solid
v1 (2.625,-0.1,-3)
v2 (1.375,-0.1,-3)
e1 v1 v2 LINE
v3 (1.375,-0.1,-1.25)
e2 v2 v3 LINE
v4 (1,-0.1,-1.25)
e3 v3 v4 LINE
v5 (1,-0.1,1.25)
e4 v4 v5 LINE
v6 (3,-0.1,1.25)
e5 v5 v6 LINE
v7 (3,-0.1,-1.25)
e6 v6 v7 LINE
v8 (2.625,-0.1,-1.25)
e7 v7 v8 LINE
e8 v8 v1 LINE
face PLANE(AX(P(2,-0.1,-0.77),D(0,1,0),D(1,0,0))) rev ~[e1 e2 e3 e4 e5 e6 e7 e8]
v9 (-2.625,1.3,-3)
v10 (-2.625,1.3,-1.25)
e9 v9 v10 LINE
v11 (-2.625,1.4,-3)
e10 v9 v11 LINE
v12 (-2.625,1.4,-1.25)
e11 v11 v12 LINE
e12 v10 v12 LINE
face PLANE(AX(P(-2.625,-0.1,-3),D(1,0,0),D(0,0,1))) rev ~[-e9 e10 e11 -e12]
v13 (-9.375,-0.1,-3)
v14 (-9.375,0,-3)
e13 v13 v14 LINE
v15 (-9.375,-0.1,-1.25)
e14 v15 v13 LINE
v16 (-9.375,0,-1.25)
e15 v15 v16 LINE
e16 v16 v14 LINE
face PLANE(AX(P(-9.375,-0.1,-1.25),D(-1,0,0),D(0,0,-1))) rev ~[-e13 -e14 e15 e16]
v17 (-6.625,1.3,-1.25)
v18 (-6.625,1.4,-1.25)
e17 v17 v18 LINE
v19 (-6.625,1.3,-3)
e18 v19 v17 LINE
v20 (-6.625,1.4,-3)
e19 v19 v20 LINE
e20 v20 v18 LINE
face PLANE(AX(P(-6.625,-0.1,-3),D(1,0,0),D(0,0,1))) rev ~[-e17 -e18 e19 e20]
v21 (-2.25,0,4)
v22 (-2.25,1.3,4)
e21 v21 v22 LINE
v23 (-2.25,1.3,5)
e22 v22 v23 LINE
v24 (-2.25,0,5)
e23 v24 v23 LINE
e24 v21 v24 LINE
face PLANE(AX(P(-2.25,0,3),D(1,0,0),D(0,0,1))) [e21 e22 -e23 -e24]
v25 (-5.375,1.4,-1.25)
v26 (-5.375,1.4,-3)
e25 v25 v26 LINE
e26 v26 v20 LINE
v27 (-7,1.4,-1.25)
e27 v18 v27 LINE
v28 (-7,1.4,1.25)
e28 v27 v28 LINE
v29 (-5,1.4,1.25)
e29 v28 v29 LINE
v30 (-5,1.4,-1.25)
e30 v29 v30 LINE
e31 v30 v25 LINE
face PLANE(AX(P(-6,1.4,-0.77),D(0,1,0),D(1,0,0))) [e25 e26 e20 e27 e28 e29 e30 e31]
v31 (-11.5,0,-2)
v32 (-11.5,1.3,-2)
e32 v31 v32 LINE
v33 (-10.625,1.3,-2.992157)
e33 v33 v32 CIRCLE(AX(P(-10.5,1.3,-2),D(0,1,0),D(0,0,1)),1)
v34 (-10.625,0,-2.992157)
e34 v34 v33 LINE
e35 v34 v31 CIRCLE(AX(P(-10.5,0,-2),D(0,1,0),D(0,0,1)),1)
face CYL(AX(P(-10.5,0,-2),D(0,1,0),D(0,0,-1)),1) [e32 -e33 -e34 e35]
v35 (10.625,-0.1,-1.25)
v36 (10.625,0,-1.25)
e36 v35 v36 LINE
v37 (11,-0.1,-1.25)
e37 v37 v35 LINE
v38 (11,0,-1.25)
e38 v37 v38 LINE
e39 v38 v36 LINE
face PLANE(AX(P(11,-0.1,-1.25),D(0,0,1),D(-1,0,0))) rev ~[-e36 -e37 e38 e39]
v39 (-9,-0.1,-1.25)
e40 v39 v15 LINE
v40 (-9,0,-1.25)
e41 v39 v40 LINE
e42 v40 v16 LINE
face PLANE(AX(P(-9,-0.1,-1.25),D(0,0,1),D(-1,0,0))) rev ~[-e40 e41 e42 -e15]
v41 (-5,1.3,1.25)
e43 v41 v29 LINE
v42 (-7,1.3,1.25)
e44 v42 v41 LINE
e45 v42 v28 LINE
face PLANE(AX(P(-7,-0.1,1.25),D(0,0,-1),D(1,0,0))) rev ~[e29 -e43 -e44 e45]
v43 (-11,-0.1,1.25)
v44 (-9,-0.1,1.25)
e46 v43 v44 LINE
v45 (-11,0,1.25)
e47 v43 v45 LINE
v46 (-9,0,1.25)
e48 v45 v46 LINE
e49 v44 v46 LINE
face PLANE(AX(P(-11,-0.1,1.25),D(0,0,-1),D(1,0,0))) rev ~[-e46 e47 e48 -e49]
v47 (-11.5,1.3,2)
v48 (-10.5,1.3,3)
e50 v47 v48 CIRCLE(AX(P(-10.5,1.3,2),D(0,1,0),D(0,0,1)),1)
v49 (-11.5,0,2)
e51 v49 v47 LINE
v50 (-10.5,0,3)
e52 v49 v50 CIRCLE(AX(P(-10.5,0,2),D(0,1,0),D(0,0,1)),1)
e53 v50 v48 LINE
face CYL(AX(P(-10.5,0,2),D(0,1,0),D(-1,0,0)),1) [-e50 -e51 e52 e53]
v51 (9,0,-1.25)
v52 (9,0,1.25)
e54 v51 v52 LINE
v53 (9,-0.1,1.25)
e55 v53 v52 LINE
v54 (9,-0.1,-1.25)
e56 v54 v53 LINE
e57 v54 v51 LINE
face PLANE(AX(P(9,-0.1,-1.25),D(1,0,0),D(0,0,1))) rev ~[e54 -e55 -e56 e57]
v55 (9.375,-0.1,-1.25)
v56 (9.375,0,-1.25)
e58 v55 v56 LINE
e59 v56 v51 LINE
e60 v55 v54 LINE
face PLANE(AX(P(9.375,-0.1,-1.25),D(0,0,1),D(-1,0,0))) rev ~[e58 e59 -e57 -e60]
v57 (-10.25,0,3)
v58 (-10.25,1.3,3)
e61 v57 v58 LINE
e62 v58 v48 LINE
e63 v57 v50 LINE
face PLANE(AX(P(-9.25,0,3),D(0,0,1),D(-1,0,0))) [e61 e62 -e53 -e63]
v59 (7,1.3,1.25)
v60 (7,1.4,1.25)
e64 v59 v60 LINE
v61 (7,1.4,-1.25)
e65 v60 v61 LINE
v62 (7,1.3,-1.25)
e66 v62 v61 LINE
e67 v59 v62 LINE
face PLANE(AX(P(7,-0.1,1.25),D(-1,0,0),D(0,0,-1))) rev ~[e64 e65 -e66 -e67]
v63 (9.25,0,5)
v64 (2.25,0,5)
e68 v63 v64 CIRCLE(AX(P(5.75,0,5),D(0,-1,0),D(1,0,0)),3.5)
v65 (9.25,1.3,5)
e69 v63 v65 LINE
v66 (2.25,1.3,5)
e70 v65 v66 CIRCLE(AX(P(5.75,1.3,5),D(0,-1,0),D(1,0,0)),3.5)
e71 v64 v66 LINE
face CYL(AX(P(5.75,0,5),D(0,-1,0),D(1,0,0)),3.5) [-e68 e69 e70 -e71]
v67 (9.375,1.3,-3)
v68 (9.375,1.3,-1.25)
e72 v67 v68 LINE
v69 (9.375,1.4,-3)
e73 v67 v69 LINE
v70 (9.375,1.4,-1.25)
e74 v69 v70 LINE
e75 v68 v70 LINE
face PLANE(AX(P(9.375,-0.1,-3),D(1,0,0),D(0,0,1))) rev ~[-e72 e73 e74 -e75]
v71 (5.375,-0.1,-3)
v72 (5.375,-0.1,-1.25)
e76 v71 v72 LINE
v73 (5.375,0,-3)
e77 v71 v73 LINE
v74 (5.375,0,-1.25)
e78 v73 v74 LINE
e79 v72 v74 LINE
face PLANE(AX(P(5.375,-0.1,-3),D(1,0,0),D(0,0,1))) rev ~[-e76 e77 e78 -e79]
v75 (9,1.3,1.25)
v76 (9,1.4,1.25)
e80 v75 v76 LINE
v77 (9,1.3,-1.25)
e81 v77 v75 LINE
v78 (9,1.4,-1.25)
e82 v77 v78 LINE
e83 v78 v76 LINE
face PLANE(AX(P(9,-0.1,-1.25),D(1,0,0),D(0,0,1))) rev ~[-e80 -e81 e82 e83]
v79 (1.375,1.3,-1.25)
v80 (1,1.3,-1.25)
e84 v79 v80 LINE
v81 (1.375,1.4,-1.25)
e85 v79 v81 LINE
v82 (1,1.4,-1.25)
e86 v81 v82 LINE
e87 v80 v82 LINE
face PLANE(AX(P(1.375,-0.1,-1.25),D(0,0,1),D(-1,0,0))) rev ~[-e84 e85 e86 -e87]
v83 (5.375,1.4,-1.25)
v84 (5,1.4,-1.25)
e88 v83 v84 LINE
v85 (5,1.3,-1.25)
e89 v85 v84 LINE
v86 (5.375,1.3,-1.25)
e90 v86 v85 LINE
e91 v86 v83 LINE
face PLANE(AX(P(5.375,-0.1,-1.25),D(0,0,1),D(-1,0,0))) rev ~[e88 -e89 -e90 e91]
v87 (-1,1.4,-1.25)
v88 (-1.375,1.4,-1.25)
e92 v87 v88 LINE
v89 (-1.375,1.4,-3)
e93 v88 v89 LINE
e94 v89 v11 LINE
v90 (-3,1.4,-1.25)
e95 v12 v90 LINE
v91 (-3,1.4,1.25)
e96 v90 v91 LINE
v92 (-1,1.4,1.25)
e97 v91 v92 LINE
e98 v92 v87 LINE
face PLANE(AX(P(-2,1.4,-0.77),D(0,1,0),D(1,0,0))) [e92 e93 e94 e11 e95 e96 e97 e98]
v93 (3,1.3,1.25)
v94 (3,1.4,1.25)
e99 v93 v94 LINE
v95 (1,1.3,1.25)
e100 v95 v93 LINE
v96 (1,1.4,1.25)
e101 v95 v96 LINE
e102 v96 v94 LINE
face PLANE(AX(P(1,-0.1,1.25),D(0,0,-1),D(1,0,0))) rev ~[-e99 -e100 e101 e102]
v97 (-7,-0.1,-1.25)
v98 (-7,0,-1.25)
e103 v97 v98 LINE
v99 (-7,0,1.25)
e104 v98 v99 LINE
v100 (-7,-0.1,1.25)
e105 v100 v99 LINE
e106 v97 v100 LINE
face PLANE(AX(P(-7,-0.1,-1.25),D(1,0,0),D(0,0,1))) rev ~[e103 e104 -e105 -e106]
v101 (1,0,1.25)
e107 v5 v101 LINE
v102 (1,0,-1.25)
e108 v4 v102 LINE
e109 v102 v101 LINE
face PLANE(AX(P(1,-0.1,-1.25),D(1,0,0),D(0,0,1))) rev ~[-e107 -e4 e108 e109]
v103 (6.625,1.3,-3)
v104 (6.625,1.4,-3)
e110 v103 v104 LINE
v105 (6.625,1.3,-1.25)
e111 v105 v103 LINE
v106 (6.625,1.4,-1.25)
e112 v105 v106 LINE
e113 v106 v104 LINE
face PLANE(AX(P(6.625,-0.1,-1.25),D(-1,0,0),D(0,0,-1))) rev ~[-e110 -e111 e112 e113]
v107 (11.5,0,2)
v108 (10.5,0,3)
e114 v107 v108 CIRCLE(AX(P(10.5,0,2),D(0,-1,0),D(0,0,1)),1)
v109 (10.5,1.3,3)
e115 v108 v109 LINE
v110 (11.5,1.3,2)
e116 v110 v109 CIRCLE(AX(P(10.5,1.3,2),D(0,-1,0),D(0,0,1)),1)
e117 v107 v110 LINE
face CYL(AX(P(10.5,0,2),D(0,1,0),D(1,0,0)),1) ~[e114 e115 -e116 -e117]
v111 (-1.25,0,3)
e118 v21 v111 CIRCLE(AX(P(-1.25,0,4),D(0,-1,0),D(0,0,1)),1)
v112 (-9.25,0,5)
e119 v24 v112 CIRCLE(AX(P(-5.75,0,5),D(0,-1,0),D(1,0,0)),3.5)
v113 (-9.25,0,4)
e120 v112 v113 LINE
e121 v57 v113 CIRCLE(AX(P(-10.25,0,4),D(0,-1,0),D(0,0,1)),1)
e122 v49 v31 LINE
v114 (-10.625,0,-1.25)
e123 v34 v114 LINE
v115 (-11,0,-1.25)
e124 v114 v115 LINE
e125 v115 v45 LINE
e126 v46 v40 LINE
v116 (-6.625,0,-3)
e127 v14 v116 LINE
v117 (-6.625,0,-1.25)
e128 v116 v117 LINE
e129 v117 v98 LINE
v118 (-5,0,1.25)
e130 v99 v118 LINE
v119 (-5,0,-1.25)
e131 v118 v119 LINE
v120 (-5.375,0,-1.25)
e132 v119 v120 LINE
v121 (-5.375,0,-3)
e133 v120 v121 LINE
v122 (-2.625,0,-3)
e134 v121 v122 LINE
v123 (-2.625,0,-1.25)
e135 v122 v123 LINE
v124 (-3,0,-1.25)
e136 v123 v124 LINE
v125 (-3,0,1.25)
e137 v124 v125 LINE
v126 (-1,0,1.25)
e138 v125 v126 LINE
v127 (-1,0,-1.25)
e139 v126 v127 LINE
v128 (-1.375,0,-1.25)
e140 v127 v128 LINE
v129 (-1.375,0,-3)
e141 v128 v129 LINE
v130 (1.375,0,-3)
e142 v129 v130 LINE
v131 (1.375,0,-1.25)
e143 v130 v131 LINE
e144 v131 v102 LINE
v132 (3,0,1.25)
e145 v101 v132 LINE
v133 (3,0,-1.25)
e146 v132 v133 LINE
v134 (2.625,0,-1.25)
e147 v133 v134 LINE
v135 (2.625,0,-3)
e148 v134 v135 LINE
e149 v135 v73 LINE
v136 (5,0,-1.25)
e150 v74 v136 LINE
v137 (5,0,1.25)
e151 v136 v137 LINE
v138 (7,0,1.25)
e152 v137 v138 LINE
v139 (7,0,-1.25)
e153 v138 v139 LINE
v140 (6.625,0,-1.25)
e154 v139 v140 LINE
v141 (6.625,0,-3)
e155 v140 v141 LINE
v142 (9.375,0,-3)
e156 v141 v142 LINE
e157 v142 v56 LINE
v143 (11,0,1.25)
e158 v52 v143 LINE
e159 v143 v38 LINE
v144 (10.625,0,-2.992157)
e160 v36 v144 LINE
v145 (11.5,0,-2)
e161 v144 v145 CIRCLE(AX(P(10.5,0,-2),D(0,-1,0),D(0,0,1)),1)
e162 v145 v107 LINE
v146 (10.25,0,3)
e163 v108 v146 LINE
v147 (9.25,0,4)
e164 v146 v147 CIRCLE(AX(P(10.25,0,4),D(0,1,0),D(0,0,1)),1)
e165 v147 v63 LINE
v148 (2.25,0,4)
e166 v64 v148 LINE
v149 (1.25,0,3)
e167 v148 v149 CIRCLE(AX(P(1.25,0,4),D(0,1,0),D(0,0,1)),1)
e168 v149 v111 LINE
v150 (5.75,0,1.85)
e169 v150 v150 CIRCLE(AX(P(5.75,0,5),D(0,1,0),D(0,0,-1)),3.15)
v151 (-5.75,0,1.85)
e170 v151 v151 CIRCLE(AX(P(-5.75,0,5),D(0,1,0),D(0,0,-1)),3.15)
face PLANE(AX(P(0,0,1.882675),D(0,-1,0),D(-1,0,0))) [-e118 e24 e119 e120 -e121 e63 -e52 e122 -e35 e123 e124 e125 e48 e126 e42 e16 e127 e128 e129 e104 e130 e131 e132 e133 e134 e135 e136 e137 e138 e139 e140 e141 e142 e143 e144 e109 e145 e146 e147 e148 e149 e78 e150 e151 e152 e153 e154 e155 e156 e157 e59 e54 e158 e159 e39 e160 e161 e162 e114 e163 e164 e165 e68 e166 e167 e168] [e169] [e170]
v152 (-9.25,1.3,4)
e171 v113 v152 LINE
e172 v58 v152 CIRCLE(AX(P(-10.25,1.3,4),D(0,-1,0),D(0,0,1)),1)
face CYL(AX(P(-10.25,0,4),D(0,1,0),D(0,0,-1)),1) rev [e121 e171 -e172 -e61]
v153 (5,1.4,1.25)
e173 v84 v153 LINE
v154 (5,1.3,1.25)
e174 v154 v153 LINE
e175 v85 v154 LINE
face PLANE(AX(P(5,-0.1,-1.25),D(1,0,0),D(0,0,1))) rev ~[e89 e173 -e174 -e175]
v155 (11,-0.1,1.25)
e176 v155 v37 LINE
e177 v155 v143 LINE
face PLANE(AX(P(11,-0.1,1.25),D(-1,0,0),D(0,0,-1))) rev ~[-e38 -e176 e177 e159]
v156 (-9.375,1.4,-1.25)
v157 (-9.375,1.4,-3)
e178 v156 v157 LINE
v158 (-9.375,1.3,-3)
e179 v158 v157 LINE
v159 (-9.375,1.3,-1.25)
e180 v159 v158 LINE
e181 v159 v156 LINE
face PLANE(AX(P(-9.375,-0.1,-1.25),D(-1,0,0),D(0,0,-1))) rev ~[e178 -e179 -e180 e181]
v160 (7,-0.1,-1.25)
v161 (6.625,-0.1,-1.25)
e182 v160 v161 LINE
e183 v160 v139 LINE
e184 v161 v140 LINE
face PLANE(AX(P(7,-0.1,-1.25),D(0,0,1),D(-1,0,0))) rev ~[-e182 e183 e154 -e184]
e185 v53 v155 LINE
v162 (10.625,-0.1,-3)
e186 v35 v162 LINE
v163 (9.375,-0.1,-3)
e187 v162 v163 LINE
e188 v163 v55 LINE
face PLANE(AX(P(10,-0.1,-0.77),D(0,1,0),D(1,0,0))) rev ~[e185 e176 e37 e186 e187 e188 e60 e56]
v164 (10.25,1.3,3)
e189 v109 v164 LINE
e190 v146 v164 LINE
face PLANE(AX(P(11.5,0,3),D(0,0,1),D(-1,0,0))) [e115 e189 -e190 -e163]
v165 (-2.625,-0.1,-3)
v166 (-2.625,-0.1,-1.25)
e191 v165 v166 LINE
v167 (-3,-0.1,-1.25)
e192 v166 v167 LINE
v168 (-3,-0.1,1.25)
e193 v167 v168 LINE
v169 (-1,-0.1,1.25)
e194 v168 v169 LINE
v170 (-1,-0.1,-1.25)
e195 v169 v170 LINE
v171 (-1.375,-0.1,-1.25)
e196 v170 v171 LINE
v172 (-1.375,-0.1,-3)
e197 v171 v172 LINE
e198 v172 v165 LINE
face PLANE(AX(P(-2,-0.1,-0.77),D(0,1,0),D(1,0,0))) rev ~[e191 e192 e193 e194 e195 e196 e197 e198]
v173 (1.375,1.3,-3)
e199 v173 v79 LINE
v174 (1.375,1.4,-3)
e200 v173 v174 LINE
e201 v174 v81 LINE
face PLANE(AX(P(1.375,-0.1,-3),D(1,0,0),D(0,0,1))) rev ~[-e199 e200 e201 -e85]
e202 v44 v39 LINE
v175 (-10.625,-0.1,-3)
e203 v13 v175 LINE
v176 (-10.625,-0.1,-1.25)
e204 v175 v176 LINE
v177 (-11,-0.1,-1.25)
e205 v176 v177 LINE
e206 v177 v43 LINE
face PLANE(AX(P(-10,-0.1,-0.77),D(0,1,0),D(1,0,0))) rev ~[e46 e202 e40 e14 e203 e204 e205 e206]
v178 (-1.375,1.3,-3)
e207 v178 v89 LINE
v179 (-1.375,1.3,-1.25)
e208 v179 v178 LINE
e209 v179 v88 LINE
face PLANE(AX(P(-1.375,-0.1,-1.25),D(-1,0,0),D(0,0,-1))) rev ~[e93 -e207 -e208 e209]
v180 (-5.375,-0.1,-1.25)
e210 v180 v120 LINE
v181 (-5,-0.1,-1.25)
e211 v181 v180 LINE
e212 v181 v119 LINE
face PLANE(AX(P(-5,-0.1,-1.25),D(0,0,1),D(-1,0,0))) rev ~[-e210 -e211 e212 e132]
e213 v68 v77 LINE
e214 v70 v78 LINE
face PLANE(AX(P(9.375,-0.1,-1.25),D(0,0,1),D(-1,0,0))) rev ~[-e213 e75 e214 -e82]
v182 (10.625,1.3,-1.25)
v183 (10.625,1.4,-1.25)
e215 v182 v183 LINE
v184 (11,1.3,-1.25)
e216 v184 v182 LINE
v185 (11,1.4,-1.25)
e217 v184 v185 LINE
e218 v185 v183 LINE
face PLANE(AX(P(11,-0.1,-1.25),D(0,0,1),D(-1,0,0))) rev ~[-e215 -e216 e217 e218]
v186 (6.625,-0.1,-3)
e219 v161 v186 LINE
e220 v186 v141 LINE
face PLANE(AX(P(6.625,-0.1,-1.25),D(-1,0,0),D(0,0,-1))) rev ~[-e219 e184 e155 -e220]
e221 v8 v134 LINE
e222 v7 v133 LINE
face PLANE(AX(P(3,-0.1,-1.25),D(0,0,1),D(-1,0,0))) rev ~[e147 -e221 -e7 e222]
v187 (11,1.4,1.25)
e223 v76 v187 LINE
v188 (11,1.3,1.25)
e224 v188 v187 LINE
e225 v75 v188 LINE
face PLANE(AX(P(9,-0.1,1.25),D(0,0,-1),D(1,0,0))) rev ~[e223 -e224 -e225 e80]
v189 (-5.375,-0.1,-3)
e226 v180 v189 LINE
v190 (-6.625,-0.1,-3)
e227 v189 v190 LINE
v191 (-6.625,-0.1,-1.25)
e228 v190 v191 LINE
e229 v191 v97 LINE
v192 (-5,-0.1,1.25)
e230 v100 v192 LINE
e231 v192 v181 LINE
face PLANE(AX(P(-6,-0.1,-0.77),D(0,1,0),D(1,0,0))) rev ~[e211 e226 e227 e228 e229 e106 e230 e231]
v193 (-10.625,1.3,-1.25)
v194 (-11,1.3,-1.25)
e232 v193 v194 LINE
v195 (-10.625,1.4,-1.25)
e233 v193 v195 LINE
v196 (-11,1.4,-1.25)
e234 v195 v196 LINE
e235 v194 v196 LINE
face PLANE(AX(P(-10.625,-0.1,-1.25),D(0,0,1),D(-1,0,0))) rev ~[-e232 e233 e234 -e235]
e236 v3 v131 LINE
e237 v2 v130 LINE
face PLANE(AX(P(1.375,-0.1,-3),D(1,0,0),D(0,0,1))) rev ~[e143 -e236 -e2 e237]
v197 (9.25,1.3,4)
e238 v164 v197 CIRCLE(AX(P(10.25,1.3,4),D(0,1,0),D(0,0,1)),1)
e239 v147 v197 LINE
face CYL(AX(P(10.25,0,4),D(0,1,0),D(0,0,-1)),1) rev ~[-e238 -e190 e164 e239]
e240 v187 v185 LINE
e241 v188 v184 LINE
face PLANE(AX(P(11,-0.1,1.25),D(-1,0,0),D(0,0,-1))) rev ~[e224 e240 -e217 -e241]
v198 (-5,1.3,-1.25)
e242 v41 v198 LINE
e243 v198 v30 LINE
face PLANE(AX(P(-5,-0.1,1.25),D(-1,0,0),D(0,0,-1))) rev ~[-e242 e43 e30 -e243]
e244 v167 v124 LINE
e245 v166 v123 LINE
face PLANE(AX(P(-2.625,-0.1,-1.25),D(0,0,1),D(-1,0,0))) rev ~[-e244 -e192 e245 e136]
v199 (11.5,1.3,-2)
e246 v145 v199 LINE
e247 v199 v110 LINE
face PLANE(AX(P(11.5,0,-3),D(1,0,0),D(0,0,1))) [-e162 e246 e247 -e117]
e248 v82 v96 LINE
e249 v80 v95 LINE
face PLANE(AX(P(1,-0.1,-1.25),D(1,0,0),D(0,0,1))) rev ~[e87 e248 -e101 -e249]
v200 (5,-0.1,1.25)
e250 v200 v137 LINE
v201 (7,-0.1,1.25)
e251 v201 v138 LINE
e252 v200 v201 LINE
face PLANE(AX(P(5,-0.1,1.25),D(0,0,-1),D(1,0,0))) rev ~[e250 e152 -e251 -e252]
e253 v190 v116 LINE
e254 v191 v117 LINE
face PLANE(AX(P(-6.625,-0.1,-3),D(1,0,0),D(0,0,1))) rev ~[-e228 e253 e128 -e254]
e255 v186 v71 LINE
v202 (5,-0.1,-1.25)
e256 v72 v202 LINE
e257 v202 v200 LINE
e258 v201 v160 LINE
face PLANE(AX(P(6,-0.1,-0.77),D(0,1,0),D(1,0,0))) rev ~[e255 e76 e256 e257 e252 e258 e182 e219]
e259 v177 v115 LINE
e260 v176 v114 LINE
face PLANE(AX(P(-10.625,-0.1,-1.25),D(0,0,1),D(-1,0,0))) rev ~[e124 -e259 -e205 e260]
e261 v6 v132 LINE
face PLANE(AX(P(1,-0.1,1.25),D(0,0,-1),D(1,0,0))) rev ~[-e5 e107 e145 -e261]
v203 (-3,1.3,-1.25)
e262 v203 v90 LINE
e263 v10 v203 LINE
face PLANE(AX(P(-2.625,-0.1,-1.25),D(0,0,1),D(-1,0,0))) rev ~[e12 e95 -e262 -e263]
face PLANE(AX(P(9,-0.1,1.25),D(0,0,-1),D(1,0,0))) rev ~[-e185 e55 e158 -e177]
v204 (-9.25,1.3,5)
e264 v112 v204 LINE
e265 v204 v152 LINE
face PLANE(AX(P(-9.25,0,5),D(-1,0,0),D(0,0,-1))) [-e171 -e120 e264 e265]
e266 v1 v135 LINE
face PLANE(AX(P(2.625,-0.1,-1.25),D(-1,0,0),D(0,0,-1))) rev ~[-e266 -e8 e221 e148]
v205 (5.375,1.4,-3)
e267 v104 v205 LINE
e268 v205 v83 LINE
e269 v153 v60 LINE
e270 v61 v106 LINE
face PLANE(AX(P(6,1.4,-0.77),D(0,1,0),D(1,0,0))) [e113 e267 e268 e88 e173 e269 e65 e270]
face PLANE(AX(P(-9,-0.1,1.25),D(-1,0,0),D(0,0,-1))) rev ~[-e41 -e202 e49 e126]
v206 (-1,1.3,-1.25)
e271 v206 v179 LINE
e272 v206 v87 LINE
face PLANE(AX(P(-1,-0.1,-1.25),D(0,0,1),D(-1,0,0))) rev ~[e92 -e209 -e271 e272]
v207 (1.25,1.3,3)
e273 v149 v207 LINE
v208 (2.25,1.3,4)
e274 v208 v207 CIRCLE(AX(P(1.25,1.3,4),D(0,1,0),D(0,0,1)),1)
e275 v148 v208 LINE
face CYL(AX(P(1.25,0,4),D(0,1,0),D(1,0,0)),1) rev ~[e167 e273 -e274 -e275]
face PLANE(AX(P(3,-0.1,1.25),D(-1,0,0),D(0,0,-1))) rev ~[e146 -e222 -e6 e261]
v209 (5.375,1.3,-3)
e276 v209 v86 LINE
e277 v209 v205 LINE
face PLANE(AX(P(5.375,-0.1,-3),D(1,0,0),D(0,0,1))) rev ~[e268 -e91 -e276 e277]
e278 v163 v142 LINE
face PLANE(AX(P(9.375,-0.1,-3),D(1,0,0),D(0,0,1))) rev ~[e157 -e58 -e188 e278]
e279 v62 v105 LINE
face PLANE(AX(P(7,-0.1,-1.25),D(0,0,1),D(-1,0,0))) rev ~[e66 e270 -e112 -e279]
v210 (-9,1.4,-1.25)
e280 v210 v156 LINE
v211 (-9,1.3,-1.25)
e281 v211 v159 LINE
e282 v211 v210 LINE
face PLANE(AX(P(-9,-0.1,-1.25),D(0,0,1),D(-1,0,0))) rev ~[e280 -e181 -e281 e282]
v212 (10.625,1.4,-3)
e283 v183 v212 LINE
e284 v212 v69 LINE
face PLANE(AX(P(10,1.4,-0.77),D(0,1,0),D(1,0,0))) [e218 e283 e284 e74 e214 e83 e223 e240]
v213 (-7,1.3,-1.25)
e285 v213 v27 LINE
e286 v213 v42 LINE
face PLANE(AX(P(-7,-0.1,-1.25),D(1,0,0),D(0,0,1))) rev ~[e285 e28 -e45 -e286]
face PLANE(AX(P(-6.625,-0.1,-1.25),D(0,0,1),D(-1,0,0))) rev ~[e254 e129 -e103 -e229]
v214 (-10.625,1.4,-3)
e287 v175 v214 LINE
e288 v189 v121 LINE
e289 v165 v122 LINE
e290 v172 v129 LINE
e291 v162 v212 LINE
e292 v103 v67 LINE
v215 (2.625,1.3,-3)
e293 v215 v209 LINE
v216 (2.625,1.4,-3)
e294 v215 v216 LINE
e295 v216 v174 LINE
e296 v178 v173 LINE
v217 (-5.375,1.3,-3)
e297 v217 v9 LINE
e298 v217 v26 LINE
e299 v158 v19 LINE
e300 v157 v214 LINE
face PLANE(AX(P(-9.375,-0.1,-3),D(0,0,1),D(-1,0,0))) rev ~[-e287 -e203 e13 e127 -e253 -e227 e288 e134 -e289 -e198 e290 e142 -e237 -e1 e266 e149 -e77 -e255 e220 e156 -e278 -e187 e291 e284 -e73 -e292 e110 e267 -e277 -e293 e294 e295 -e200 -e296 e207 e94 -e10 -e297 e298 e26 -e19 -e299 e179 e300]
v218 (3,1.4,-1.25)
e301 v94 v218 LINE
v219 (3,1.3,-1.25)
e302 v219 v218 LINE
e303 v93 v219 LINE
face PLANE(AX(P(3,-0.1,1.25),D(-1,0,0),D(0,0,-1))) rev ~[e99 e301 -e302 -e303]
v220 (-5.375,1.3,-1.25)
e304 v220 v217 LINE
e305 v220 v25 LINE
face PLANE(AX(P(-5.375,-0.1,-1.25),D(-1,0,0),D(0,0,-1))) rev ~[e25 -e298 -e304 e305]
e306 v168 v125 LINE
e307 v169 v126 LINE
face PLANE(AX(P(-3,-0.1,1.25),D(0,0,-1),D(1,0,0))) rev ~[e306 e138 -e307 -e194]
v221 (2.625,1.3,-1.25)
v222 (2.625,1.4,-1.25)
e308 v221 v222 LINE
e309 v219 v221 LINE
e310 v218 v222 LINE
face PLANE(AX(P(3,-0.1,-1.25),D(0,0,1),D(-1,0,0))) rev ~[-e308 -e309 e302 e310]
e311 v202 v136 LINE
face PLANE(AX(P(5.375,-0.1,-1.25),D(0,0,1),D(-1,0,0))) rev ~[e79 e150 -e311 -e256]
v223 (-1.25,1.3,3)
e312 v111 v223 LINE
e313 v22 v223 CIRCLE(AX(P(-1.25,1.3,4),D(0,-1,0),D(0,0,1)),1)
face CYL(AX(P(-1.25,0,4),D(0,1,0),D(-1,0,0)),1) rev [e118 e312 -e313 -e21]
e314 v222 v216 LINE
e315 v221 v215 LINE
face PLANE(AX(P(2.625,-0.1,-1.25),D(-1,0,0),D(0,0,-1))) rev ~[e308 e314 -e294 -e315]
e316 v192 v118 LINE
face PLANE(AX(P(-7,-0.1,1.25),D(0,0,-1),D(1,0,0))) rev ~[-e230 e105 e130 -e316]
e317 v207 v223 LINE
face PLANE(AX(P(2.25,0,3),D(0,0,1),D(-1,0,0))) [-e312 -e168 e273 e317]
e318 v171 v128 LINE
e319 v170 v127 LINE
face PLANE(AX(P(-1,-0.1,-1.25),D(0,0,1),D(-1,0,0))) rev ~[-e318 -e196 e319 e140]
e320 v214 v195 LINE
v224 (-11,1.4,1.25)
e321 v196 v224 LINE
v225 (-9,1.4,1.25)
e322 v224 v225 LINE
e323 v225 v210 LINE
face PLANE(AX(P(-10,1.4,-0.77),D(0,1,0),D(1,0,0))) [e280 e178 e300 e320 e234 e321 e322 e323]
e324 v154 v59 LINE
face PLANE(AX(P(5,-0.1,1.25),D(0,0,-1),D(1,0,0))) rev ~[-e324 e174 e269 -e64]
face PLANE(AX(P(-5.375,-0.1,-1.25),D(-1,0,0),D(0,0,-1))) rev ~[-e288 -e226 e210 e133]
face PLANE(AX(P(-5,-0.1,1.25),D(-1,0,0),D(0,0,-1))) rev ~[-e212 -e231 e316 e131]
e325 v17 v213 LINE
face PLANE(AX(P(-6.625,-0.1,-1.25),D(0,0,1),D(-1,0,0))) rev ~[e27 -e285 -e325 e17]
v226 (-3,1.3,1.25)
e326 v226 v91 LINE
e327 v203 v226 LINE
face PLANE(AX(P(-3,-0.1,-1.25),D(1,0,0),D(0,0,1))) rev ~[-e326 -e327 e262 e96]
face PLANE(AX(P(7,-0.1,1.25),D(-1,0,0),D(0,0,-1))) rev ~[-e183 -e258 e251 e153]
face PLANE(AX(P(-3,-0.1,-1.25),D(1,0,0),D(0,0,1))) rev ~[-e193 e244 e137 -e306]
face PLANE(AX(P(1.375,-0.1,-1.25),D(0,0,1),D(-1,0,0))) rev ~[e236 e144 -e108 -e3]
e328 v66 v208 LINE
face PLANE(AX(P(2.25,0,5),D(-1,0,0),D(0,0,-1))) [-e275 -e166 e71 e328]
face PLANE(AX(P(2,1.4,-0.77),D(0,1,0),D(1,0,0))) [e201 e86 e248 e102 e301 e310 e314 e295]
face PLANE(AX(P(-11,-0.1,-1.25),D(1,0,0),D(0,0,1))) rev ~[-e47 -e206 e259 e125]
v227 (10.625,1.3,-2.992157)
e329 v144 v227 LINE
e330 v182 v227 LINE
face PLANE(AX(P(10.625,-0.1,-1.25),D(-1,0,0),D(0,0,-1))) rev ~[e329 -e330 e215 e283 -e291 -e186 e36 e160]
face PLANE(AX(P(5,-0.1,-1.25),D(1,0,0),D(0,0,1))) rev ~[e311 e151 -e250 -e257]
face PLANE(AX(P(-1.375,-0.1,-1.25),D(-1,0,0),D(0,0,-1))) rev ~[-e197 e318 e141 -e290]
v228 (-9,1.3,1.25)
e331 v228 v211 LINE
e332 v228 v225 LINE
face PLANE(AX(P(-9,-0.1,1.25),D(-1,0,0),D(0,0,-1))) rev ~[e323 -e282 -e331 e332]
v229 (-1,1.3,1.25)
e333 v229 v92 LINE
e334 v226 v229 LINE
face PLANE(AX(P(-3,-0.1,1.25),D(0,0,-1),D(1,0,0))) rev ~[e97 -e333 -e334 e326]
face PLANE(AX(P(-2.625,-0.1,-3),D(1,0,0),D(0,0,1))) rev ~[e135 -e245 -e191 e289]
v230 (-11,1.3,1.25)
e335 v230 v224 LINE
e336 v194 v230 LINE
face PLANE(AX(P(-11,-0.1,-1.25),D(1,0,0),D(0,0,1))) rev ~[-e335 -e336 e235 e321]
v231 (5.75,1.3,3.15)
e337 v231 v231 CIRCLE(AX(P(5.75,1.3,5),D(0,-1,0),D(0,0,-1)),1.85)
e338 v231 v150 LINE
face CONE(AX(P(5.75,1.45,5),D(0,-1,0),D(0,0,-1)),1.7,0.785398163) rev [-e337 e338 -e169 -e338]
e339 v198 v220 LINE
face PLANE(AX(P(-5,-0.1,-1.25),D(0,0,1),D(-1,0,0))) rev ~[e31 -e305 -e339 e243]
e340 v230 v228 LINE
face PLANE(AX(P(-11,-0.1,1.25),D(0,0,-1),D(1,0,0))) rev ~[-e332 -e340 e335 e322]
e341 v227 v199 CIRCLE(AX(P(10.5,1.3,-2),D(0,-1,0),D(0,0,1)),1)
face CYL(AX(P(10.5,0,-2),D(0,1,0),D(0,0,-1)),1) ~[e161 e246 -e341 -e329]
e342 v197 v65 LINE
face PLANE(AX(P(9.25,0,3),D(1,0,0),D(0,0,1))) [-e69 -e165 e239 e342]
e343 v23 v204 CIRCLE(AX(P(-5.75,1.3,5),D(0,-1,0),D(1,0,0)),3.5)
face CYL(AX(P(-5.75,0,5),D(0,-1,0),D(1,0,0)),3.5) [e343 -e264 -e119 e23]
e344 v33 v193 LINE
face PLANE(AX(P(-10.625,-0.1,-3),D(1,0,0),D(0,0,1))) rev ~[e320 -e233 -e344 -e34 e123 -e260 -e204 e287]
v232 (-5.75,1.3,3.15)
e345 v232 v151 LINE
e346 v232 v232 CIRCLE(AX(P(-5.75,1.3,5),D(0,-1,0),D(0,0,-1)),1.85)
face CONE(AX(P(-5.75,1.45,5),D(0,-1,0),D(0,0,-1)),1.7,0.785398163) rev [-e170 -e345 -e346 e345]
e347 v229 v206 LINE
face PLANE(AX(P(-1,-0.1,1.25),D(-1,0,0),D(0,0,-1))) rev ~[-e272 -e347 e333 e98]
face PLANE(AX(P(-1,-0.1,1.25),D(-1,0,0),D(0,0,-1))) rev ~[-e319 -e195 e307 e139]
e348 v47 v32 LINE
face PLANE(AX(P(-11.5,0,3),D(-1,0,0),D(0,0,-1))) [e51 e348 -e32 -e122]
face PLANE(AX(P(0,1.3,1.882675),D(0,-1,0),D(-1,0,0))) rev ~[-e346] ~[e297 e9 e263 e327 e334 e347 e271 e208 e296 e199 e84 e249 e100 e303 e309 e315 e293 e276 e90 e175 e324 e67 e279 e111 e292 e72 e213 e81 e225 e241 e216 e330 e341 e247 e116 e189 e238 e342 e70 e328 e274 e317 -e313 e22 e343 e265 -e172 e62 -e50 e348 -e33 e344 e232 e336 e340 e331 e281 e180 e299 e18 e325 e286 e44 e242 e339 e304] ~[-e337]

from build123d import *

# Parameters (mm, degrees)
SKETCH1_R                                      = 1.5
BOSS_EXTRUDE1_DEPTH                            = 1.3
FILLET1_R                                      = 1
BOSS_EXTRUDE3_DEPTH                            = 0.1
BOSS_EXTRUDE3_DEPTH_BACK                       = 1.4
CSK_FOR_M3_FLAT_HEAD_MACHINE_SCREW2_AT_2_COUNT = 2
CSK_FOR_M3_FLAT_HEAD_MACHINE_SCREW2_AT_2_PITCH = 11.5


with BuildPart() as part:
    # Sketch1 → Boss-Extrude1 (new body)
    with BuildSketch(Plane(origin=(0, 0, 0), x_dir=(1, 0, 0), z_dir=(0, 1, 0))):
        with BuildLine():
            Line((-11.5, 3), (11.5, 3))
            Line((11.5, 3), (11.5, -3))
            Line((11.5, -3), (9.25, -3))
            Line((9.25, -3), (9.25, -5))
            ThreePointArc((9.25, -5), (5.75, -8.5), (2.25, -5))
            Line((2.25, -5), (2.25, -3))
            Line((2.25, -3), (-2.25, -3))
            Line((-2.25, -3), (-2.25, -5))
            ThreePointArc((-2.25, -5), (-5.75, -8.5), (-9.25, -5))
            Line((-9.25, -5), (-9.25, -3))
            Line((-9.25, -3), (-11.5, -3))
            Line((-11.5, -3), (-11.5, 3))
        make_face()
        with Locations(Location((5.75, -5, 0), (0, 0, 270))):
            Circle(SKETCH1_R, mode=Mode.SUBTRACT)
        with Locations(Location((-5.75, -5, 0), (0, 0, 270))):
            Circle(SKETCH1_R, mode=Mode.SUBTRACT)
    extrude(amount=BOSS_EXTRUDE1_DEPTH)

    # Fillet1
    fillet1_edges = [part.edges().sort_by_distance(p)[0] for p in [
        (9.25, 0.65, 3),
        (2.25, 0.65, 3),
        (-2.25, 0.65, 3),
        (-9.25, 0.65, 3),
        (-11.5, 0.65, 3),
        (-11.5, 0.65, -3),
        (11.5, 0.65, -3),
        (11.5, 0.65, 3),
    ]]
    fillet(fillet1_edges, radius=FILLET1_R)

    # Sketch5 → Boss-Extrude3 (add, two sides: drawn at the far end of the back side and taken through both)
    with BuildSketch(Plane(origin=(0, 1.3, 0), x_dir=(1, 0, 0), z_dir=(0, 1, 0)).offset(-BOSS_EXTRUDE3_DEPTH_BACK)):
        Polygon((-11, -1.25), (-9, -1.25), (-9, 1.25), (-9.375, 1.25), (-9.375, 3), (-10.625, 3), (-10.625, 1.25), (-11, 1.25), align=None)
        Polygon((-7, -1.25), (-5, -1.25), (-5, 1.25), (-5.375, 1.25), (-5.375, 3), (-6.625, 3), (-6.625, 1.25), (-7, 1.25), align=None)
        Polygon((-3, -1.25), (-1, -1.25), (-1, 1.25), (-1.375, 1.25), (-1.375, 3), (-2.625, 3), (-2.625, 1.25), (-3, 1.25), align=None)
        Polygon((1, -1.25), (3, -1.25), (3, 1.25), (2.625, 1.25), (2.625, 3), (1.375, 3), (1.375, 1.25), (1, 1.25), align=None)
        Polygon((5, -1.25), (7, -1.25), (7, 1.25), (6.625, 1.25), (6.625, 3), (5.375, 3), (5.375, 1.25), (5, 1.25), align=None)
        Polygon((9, -1.25), (11, -1.25), (11, 1.25), (10.625, 1.25), (10.625, 3), (9.375, 3), (9.375, 1.25), (9, 1.25), align=None)
    extrude(amount=BOSS_EXTRUDE3_DEPTH + BOSS_EXTRUDE3_DEPTH_BACK)

    # Sketch7 → CSK for M3 Flat Head Machine Screw2 (revolve, cut)
    with BuildSketch(Plane(origin=(5.75, 0, 5), x_dir=(0, 0, -1), z_dir=(1, 0, 0))):
        Polygon((0, 0), (0, 1.4), (1.7, 1.4), (1.7, 1.45), (3.15, 0), align=None)
    csk_for_m3_flat_head_machine_screw2 = revolve(axis=Axis((5.75, -6.35, 5), (0, 1, 0)), mode=Mode.SUBTRACT)

    # CSK for M3 Flat Head Machine Screw2 at 2: CSK for M3 Flat Head Machine Screw2 ×2
    with Locations(*[(-i * CSK_FOR_M3_FLAT_HEAD_MACHINE_SCREW2_AT_2_PITCH, 0, 0) for i in range(1, CSK_FOR_M3_FLAT_HEAD_MACHINE_SCREW2_AT_2_COUNT)]):
        add(csk_for_m3_flat_head_machine_screw2, mode=Mode.SUBTRACT)


solid = part.part
